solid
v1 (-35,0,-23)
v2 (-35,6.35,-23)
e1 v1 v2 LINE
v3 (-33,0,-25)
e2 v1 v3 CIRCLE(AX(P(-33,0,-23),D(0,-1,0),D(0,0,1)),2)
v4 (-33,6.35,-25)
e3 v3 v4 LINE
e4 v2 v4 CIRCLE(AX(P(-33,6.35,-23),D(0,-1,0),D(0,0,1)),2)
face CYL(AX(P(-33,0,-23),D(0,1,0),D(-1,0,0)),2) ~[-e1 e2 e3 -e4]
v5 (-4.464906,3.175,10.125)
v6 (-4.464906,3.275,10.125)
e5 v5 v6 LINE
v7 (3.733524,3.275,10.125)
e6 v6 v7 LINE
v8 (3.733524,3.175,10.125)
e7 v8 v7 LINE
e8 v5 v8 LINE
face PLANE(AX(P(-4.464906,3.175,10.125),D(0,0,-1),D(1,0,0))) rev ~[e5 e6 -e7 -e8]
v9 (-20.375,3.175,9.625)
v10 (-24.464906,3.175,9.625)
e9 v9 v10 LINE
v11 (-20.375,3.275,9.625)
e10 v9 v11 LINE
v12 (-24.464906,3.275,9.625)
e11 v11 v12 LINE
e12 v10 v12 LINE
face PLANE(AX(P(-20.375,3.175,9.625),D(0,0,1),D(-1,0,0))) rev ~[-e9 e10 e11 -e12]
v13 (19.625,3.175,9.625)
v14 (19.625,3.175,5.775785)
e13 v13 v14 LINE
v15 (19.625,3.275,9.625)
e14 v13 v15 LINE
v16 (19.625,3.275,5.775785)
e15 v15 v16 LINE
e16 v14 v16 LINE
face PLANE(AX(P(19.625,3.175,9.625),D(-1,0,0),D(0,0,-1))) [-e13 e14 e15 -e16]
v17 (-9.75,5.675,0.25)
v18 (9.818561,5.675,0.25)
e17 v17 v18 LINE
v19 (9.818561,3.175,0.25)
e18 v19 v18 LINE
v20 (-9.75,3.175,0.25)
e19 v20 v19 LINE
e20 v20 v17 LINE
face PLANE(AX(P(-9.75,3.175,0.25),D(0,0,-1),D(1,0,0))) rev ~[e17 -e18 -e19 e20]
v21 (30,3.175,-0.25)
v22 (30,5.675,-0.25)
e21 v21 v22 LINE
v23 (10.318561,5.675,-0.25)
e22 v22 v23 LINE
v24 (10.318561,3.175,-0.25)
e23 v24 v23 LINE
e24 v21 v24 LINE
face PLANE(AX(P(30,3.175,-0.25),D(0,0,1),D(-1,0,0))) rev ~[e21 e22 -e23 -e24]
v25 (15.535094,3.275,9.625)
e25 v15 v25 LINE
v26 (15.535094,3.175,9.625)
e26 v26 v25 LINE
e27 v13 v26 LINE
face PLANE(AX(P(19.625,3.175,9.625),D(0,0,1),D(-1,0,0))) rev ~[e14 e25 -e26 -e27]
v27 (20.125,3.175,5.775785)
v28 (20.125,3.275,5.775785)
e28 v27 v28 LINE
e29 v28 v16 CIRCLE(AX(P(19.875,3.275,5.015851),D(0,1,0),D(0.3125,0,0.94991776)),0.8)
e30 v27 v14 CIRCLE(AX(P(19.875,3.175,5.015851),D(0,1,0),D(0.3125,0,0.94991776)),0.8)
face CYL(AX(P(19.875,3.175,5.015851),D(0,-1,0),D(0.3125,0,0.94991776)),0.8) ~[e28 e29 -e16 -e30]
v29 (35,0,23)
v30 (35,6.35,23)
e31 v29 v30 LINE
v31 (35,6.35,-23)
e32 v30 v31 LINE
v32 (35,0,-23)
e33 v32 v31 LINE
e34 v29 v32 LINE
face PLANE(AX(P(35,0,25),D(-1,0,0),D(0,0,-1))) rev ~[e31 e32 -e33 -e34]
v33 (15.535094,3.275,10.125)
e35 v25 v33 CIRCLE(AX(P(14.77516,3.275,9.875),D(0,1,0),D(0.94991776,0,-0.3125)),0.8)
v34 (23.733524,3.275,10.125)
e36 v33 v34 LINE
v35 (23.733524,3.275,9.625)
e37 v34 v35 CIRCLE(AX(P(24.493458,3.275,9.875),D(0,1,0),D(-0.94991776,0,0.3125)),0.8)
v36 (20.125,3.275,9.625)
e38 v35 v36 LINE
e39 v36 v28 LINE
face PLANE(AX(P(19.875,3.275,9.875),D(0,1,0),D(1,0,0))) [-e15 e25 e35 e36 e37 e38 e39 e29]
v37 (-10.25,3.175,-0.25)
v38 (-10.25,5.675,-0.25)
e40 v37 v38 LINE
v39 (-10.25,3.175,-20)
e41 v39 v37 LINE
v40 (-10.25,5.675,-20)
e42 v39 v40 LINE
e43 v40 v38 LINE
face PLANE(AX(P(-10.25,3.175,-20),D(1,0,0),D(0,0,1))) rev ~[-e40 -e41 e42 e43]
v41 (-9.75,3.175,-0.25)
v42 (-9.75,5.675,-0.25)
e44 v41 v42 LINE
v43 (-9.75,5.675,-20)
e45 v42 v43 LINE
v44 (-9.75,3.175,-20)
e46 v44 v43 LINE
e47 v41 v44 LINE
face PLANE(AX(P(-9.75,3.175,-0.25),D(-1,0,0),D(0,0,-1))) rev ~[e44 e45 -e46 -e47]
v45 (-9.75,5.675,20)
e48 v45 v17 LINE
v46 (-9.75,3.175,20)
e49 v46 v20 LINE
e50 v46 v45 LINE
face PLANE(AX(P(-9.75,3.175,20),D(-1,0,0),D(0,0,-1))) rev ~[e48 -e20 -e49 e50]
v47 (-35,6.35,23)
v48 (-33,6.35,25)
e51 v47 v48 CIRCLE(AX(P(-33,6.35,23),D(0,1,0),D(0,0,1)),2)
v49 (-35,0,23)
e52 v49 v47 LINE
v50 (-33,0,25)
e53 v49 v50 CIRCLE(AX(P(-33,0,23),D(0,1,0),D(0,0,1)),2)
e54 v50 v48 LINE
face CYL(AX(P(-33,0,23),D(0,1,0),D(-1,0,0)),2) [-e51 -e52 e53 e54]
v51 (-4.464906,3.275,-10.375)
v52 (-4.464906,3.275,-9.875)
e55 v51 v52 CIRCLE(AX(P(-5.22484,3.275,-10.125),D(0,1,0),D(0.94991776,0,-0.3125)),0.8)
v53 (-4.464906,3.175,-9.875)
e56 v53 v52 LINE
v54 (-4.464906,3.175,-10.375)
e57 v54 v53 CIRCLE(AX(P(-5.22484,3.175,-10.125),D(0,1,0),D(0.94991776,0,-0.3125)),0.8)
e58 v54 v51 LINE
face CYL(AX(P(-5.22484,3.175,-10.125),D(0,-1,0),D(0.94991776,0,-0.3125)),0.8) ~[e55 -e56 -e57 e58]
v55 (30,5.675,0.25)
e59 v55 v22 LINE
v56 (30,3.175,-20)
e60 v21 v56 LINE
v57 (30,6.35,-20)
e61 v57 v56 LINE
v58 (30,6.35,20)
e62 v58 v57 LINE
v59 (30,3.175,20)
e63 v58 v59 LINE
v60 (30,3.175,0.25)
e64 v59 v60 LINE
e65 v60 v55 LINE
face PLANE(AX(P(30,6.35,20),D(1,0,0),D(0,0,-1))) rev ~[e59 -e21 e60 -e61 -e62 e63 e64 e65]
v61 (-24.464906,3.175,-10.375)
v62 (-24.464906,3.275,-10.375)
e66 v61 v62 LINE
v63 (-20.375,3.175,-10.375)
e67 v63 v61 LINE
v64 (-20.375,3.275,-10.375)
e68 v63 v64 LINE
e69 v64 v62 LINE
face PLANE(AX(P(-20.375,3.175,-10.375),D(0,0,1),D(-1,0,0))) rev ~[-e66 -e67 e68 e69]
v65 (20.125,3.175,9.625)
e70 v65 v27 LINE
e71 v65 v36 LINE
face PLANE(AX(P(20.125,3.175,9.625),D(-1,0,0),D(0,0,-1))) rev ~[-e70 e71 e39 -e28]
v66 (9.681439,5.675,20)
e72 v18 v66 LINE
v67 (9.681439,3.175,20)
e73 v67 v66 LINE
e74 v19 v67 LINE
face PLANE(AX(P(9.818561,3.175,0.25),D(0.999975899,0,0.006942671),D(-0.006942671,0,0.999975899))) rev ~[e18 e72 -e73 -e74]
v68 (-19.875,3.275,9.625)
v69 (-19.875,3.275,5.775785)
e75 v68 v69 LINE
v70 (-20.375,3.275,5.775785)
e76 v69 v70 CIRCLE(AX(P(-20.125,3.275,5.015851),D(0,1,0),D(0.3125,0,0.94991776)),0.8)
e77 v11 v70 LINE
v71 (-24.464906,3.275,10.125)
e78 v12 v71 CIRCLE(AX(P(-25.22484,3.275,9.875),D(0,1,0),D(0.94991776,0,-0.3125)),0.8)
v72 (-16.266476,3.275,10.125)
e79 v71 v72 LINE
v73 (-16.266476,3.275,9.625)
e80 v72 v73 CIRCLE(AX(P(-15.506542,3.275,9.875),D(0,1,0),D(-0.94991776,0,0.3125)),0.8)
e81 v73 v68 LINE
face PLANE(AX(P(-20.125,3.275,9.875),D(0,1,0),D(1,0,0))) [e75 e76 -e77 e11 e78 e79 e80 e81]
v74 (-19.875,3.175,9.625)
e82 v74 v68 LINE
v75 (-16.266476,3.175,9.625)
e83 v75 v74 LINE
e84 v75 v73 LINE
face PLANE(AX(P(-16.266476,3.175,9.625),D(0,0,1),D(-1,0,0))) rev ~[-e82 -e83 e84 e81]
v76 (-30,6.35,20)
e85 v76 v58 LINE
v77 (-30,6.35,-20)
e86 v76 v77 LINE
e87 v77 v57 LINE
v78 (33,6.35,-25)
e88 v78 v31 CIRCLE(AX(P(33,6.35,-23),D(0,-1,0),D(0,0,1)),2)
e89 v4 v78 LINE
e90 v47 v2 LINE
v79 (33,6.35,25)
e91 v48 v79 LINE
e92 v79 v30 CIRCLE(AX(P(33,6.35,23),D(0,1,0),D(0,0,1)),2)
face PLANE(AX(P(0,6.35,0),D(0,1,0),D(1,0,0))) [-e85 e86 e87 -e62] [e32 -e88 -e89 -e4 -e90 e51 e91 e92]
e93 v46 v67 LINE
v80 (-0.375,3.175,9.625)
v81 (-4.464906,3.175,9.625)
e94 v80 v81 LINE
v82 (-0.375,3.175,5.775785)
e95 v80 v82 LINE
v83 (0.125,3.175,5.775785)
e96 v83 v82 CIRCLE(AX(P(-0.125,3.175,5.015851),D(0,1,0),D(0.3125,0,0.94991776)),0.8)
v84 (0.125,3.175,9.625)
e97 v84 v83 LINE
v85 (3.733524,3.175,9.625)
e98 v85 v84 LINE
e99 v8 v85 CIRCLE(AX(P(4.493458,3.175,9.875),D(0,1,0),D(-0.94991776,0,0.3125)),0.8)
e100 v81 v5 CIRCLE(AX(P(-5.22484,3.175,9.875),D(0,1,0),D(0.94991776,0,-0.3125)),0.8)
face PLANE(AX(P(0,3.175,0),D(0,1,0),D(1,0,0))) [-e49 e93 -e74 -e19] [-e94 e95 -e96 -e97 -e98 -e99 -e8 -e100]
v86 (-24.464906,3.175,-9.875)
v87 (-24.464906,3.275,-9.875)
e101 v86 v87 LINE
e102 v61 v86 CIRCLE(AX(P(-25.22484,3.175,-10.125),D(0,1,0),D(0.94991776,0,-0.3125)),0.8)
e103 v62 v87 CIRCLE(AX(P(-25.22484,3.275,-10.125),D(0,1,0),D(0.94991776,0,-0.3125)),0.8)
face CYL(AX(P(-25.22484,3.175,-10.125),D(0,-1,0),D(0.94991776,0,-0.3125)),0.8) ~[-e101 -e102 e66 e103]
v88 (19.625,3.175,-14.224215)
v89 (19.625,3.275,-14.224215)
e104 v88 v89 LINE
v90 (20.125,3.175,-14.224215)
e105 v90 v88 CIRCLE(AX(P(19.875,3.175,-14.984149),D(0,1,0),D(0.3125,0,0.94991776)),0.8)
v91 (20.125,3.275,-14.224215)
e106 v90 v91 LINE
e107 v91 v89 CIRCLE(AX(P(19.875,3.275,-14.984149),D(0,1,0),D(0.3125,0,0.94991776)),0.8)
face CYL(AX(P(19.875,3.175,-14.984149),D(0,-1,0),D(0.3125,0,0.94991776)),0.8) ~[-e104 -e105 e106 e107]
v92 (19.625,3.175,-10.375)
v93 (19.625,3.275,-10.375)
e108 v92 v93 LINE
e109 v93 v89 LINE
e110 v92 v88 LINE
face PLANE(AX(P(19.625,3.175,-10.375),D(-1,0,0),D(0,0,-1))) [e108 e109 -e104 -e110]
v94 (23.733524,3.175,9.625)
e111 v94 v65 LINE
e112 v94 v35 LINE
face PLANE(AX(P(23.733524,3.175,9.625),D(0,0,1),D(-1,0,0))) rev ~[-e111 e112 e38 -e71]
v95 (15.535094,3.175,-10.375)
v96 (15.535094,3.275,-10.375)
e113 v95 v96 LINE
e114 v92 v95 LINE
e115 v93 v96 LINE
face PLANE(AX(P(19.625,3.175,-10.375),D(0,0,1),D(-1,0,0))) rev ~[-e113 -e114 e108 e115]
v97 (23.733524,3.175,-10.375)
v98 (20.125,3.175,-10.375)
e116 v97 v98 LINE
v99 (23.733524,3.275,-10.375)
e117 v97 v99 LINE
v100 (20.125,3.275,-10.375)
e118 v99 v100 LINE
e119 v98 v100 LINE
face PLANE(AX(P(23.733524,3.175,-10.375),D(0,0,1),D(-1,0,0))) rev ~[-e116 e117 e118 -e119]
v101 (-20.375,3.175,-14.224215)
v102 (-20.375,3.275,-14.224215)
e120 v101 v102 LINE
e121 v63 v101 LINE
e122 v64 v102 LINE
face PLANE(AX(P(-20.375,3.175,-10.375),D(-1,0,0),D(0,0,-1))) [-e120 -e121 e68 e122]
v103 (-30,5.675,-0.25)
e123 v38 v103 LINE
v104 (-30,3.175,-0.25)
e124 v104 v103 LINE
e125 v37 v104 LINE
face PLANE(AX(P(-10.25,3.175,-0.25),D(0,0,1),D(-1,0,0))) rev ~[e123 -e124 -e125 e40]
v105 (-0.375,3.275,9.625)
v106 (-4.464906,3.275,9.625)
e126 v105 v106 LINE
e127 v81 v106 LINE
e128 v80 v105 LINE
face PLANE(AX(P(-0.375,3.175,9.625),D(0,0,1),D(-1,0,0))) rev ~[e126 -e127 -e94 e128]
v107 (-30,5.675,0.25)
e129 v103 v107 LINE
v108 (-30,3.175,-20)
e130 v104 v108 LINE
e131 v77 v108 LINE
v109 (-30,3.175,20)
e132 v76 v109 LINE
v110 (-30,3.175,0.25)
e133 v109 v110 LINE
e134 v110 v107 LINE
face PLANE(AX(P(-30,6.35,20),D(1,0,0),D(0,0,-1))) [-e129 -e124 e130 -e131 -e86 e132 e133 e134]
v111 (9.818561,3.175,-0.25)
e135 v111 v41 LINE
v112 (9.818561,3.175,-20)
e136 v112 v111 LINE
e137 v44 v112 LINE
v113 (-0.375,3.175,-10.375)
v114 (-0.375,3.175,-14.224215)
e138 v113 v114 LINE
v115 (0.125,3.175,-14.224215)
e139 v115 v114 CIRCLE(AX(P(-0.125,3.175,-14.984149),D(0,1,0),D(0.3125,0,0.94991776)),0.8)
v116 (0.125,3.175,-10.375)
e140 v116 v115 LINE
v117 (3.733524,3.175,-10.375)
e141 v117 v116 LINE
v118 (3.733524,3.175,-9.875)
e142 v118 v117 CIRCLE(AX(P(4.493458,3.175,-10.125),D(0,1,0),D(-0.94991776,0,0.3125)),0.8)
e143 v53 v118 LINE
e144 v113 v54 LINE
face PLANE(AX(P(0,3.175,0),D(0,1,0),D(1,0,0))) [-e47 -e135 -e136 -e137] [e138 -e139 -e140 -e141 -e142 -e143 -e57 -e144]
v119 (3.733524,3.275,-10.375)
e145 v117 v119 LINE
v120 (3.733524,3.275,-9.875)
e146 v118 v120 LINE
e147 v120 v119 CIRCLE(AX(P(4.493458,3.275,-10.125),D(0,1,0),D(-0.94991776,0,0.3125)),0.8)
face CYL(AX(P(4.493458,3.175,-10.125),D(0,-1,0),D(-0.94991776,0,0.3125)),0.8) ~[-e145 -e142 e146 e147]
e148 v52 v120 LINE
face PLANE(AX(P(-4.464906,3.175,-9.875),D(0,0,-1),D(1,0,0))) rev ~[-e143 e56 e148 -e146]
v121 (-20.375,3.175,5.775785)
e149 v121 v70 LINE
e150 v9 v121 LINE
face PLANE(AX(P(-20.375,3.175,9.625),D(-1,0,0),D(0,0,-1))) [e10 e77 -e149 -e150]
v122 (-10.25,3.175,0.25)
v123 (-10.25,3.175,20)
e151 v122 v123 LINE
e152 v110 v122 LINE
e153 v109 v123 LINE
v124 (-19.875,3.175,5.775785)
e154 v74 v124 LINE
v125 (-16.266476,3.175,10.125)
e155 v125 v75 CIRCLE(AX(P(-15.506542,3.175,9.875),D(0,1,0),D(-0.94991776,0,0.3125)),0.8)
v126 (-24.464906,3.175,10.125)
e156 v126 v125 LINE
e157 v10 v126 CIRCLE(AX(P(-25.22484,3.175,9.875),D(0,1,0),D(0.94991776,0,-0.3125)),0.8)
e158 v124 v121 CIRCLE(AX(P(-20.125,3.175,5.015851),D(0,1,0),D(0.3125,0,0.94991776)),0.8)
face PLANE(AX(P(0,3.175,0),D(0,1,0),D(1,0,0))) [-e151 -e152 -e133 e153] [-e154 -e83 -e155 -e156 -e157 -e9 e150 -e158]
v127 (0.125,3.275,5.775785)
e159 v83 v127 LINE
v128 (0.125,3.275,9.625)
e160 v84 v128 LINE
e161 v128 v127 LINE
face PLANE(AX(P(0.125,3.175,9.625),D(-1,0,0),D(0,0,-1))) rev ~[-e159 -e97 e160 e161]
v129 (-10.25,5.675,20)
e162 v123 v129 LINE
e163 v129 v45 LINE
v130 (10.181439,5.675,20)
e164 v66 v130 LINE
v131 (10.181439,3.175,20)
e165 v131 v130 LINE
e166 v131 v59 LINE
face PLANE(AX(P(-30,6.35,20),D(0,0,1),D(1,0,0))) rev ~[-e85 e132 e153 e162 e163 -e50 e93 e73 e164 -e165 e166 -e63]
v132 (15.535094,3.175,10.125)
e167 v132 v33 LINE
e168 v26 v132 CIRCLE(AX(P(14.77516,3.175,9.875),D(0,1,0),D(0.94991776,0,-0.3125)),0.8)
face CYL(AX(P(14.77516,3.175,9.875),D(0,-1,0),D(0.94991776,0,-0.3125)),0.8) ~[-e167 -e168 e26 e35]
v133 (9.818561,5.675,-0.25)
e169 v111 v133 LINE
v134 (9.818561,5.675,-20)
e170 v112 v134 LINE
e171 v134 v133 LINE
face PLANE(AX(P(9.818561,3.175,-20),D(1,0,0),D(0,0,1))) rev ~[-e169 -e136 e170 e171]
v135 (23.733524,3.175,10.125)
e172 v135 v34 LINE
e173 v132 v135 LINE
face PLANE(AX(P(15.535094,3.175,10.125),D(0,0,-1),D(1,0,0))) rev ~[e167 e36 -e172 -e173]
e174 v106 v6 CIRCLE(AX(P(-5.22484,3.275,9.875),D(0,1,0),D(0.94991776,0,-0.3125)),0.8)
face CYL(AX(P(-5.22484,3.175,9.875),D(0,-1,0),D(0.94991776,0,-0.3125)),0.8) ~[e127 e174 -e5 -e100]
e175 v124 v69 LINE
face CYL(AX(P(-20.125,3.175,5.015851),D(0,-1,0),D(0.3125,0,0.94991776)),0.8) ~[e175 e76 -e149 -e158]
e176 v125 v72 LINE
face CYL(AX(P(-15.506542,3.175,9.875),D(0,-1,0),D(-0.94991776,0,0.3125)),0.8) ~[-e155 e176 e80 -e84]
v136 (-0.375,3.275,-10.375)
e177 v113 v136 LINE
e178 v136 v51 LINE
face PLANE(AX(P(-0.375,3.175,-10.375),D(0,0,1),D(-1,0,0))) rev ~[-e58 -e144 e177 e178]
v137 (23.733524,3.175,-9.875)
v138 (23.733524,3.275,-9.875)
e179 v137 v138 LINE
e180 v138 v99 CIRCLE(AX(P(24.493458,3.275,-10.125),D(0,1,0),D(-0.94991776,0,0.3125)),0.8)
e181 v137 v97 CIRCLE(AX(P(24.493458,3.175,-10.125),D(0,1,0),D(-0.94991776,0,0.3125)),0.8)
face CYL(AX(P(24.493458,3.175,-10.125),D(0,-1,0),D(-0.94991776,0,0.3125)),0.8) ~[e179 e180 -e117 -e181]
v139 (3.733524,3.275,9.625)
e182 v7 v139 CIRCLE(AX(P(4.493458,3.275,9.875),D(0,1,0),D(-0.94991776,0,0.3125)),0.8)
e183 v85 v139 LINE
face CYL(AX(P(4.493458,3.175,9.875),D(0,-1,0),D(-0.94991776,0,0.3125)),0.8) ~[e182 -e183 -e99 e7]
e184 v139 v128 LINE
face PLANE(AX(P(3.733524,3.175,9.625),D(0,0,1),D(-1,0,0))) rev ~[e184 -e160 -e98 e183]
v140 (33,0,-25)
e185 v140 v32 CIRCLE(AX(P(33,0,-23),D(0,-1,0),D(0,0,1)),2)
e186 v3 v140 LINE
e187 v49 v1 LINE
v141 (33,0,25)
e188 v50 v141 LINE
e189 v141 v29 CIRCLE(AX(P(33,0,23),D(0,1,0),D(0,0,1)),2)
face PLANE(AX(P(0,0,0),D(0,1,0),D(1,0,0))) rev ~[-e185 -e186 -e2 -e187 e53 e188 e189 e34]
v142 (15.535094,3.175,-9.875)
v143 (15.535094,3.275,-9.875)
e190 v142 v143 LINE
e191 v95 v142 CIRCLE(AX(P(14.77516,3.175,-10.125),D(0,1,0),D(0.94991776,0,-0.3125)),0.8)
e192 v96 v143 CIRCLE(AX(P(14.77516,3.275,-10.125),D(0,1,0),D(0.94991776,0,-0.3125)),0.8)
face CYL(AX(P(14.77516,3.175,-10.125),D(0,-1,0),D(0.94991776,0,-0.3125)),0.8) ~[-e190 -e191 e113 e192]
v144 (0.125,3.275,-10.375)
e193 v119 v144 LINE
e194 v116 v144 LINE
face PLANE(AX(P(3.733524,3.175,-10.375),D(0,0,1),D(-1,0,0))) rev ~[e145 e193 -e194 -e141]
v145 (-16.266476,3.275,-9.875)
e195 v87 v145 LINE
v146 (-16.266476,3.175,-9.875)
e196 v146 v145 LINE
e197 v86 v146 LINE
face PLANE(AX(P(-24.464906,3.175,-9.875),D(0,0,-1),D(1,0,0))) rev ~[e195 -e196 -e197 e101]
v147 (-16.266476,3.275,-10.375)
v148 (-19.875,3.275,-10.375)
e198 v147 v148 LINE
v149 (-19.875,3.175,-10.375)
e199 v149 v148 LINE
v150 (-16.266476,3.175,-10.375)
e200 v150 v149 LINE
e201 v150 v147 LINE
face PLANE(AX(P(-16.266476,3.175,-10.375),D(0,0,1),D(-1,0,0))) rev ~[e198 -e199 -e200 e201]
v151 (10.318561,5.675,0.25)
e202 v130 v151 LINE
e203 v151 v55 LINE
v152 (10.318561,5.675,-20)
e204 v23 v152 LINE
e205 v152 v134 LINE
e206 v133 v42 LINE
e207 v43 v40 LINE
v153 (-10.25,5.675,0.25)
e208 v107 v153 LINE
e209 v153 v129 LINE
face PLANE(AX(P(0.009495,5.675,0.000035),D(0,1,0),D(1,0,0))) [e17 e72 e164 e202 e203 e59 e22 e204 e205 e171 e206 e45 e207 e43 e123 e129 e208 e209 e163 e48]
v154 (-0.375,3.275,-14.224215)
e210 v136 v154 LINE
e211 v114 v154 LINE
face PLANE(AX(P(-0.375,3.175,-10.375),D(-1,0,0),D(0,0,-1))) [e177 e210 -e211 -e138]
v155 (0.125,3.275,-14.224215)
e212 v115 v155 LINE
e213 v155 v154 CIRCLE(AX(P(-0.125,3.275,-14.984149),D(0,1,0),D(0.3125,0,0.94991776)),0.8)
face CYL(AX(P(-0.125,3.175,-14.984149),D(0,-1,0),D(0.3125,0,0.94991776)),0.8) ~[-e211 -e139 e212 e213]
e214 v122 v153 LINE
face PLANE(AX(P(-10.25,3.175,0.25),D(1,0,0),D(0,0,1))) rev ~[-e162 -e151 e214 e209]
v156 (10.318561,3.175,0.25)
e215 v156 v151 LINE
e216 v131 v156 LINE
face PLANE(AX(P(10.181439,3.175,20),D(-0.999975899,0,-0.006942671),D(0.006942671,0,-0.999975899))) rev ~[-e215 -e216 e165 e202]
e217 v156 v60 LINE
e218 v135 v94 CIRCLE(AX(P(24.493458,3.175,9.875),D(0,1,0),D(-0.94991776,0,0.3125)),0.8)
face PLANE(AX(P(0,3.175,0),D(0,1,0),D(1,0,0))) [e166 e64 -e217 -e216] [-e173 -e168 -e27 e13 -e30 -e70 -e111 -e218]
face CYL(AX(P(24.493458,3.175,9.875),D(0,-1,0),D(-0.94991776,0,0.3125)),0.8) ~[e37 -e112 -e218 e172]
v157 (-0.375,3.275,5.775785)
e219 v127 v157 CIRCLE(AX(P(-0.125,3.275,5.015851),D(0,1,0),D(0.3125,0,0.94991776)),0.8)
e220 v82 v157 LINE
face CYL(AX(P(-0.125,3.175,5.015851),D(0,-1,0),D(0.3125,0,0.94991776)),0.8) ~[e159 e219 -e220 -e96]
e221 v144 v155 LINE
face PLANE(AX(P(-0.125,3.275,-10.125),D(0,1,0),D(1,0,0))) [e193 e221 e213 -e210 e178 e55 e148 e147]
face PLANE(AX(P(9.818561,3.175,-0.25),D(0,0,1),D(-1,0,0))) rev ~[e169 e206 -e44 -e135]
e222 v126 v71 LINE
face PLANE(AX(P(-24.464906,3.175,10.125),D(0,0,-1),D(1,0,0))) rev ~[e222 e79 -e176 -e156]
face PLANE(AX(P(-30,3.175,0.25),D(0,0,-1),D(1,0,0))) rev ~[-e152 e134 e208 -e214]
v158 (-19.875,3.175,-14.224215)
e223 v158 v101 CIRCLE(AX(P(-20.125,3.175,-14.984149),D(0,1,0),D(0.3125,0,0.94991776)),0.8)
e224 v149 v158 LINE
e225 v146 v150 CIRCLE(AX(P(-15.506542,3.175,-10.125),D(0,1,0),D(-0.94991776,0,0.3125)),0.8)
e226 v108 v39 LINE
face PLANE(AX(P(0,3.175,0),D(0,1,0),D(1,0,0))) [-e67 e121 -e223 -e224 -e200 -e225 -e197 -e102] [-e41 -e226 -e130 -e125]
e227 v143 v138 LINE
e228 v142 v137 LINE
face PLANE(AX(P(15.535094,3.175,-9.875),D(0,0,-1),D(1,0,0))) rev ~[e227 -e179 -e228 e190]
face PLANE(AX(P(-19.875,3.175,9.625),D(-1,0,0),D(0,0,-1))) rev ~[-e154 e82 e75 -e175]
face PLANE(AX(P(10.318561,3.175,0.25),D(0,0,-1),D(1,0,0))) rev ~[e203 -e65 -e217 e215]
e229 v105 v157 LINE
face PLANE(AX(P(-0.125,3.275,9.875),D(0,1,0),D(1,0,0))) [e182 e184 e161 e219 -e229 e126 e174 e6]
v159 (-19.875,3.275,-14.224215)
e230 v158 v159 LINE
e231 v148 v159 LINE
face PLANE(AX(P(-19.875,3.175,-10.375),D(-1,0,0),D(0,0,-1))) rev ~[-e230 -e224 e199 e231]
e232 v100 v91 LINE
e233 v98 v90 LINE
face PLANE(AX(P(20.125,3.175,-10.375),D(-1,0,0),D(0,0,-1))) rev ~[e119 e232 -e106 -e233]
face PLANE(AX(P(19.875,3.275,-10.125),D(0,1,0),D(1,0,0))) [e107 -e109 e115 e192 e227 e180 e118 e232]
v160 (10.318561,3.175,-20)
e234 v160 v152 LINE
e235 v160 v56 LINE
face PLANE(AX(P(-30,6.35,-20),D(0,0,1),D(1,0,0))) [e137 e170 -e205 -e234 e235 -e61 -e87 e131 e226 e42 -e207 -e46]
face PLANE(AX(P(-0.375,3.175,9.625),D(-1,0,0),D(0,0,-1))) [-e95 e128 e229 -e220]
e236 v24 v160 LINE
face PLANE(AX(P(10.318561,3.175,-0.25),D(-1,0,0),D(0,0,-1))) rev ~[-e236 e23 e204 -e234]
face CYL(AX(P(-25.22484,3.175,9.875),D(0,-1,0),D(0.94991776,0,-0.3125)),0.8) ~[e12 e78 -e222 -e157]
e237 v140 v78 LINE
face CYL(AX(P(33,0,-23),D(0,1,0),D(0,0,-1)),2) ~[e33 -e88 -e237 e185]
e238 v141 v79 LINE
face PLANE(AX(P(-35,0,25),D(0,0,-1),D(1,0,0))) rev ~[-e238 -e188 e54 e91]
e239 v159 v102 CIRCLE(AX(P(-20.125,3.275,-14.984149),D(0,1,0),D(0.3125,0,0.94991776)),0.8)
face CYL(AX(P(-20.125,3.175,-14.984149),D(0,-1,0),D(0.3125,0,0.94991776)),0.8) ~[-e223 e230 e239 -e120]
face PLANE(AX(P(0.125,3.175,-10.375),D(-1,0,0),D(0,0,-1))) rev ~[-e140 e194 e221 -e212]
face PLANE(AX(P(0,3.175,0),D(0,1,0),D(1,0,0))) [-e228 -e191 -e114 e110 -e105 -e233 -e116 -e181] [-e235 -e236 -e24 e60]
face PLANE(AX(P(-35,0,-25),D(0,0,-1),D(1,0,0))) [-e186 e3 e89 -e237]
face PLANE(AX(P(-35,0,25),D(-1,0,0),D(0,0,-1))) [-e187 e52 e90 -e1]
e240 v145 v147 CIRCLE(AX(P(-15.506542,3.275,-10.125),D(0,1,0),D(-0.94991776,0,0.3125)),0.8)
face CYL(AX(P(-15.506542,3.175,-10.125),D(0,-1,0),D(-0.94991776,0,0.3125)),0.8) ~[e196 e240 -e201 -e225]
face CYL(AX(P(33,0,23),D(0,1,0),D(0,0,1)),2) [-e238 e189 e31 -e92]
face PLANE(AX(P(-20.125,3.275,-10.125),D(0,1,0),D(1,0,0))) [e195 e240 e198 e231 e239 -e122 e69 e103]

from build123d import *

# Parameters (mm, degrees)
SKETCH1_W            = 70
SKETCH1_H            = 50
BOSS_EXTRUDE1_DEPTH  = 6.35
SKETCH2_W            = 60
SKETCH2_H            = 40
CUT_EXTRUDE1_DEPTH   = 3.175
DIVIDERS_DEPTH       = 2.5
SKETCH11_W           = 0.5
SKETCH11_H           = 0.5
SKETCH11_W_2         = 4.089905709
SKETCH11_W_3         = 3.608523714
SKETCH11_H_2         = 3.849214712
BOSS_EXTRUDE3_DEPTH  = 0.1
LPATTERN1_COUNT      = 3
LPATTERN1_PITCH      = 20
LPATTERN1_COUNT_DIR2 = 2
LPATTERN1_PITCH_DIR2 = 20
FILLET1_R            = 2


with BuildPart() as part:
    # Sketch1 → Boss-Extrude1 (new body)
    with BuildSketch(Plane(origin=(0, 0, 0), x_dir=(1, 0, 0), z_dir=(0, 1, 0))):
        Rectangle(SKETCH1_W, SKETCH1_H)
    extrude(amount=BOSS_EXTRUDE1_DEPTH)

    # Sketch2 → Cut-Extrude1 (cut)
    with BuildSketch(Plane(origin=(0, 6.35, 0), x_dir=(1, 0, 0), z_dir=(0, 1, 0))):
        Rectangle(SKETCH2_W, SKETCH2_H)
    extrude(amount=-CUT_EXTRUDE1_DEPTH, mode=Mode.SUBTRACT)

    # Sketch10 → Dividers (add)
    with BuildSketch(Plane(origin=(0, 3.175, 0), x_dir=(1, 0, 0), z_dir=(0, 1, 0))):
        Polygon((-10.25, -0.25), (-10.25, -20), (-9.75, -20), (-9.75, -0.25), (9.818560524, -0.25), (9.681439476, -20), (10.181439476, -20), (10.318560524, -0.25), (30, -0.25), (30, 0.25), (10.318560524, 0.25), (10.318560524, 20), (9.818560524, 20), (9.818560524, 0.25), (-9.75, 0.25), (-9.75, 20), (-10.25, 20), (-10.25, 0.25), (-30, 0.25), (-30, -0.25), align=None)
    extrude(amount=DIVIDERS_DEPTH)

    # Sketch11 → Boss-Extrude3 (add)
    with BuildSketch(Plane(origin=(0, 3.175, 0), x_dir=(1, 0, 0), z_dir=(0, 1, 0))):
        with Locations((-20.125, 10.125)):
            Rectangle(SKETCH11_W, SKETCH11_H)
        with Locations((-22.419952854, 10.125)):
            Rectangle(SKETCH11_W_2, SKETCH11_H)
        with Locations((-18.070738143, 10.125)):
            Rectangle(SKETCH11_W_3, SKETCH11_H)
        with BuildLine():
            ThreePointArc((-24.464905709, 10.375), (-26.024839917, 10.125), (-24.464905709, 9.875))
            Line((-24.464905709, 9.875), (-24.464905709, 10.375))
        make_face()
        with Locations((-20.125, 12.299607356)):
            Rectangle(SKETCH11_W, SKETCH11_H_2)
        with BuildLine():
            Line((-16.266476286, 10.375), (-16.266476286, 9.875))
            ThreePointArc((-16.266476286, 9.875), (-14.706542078, 10.125), (-16.266476286, 10.375))
        make_face()
        with BuildLine():
            ThreePointArc((-19.875, 14.224214712), (-20.125, 15.784148919), (-20.375, 14.224214712))
            Line((-20.375, 14.224214712), (-19.875, 14.224214712))
        make_face()
    boss_extrude3 = extrude(amount=BOSS_EXTRUDE3_DEPTH)

    # LPattern1: Boss-Extrude3 3 × 2
    with Locations(*[(i * LPATTERN1_PITCH, 0, j * LPATTERN1_PITCH_DIR2) for i in range(LPATTERN1_COUNT) for j in range(LPATTERN1_COUNT_DIR2) if (i, j) != (0, 0)]):
        add(boss_extrude3)

    # Fillet1
    fillet1_edges = [part.edges().sort_by_distance(p)[0] for p in [
        (35, 3.175, 25),
        (-35, 3.175, 25),
        (-35, 3.175, -25),
        (35, 3.175, -25),
    ]]
    fillet(fillet1_edges, radius=FILLET1_R)


solid = part.part
